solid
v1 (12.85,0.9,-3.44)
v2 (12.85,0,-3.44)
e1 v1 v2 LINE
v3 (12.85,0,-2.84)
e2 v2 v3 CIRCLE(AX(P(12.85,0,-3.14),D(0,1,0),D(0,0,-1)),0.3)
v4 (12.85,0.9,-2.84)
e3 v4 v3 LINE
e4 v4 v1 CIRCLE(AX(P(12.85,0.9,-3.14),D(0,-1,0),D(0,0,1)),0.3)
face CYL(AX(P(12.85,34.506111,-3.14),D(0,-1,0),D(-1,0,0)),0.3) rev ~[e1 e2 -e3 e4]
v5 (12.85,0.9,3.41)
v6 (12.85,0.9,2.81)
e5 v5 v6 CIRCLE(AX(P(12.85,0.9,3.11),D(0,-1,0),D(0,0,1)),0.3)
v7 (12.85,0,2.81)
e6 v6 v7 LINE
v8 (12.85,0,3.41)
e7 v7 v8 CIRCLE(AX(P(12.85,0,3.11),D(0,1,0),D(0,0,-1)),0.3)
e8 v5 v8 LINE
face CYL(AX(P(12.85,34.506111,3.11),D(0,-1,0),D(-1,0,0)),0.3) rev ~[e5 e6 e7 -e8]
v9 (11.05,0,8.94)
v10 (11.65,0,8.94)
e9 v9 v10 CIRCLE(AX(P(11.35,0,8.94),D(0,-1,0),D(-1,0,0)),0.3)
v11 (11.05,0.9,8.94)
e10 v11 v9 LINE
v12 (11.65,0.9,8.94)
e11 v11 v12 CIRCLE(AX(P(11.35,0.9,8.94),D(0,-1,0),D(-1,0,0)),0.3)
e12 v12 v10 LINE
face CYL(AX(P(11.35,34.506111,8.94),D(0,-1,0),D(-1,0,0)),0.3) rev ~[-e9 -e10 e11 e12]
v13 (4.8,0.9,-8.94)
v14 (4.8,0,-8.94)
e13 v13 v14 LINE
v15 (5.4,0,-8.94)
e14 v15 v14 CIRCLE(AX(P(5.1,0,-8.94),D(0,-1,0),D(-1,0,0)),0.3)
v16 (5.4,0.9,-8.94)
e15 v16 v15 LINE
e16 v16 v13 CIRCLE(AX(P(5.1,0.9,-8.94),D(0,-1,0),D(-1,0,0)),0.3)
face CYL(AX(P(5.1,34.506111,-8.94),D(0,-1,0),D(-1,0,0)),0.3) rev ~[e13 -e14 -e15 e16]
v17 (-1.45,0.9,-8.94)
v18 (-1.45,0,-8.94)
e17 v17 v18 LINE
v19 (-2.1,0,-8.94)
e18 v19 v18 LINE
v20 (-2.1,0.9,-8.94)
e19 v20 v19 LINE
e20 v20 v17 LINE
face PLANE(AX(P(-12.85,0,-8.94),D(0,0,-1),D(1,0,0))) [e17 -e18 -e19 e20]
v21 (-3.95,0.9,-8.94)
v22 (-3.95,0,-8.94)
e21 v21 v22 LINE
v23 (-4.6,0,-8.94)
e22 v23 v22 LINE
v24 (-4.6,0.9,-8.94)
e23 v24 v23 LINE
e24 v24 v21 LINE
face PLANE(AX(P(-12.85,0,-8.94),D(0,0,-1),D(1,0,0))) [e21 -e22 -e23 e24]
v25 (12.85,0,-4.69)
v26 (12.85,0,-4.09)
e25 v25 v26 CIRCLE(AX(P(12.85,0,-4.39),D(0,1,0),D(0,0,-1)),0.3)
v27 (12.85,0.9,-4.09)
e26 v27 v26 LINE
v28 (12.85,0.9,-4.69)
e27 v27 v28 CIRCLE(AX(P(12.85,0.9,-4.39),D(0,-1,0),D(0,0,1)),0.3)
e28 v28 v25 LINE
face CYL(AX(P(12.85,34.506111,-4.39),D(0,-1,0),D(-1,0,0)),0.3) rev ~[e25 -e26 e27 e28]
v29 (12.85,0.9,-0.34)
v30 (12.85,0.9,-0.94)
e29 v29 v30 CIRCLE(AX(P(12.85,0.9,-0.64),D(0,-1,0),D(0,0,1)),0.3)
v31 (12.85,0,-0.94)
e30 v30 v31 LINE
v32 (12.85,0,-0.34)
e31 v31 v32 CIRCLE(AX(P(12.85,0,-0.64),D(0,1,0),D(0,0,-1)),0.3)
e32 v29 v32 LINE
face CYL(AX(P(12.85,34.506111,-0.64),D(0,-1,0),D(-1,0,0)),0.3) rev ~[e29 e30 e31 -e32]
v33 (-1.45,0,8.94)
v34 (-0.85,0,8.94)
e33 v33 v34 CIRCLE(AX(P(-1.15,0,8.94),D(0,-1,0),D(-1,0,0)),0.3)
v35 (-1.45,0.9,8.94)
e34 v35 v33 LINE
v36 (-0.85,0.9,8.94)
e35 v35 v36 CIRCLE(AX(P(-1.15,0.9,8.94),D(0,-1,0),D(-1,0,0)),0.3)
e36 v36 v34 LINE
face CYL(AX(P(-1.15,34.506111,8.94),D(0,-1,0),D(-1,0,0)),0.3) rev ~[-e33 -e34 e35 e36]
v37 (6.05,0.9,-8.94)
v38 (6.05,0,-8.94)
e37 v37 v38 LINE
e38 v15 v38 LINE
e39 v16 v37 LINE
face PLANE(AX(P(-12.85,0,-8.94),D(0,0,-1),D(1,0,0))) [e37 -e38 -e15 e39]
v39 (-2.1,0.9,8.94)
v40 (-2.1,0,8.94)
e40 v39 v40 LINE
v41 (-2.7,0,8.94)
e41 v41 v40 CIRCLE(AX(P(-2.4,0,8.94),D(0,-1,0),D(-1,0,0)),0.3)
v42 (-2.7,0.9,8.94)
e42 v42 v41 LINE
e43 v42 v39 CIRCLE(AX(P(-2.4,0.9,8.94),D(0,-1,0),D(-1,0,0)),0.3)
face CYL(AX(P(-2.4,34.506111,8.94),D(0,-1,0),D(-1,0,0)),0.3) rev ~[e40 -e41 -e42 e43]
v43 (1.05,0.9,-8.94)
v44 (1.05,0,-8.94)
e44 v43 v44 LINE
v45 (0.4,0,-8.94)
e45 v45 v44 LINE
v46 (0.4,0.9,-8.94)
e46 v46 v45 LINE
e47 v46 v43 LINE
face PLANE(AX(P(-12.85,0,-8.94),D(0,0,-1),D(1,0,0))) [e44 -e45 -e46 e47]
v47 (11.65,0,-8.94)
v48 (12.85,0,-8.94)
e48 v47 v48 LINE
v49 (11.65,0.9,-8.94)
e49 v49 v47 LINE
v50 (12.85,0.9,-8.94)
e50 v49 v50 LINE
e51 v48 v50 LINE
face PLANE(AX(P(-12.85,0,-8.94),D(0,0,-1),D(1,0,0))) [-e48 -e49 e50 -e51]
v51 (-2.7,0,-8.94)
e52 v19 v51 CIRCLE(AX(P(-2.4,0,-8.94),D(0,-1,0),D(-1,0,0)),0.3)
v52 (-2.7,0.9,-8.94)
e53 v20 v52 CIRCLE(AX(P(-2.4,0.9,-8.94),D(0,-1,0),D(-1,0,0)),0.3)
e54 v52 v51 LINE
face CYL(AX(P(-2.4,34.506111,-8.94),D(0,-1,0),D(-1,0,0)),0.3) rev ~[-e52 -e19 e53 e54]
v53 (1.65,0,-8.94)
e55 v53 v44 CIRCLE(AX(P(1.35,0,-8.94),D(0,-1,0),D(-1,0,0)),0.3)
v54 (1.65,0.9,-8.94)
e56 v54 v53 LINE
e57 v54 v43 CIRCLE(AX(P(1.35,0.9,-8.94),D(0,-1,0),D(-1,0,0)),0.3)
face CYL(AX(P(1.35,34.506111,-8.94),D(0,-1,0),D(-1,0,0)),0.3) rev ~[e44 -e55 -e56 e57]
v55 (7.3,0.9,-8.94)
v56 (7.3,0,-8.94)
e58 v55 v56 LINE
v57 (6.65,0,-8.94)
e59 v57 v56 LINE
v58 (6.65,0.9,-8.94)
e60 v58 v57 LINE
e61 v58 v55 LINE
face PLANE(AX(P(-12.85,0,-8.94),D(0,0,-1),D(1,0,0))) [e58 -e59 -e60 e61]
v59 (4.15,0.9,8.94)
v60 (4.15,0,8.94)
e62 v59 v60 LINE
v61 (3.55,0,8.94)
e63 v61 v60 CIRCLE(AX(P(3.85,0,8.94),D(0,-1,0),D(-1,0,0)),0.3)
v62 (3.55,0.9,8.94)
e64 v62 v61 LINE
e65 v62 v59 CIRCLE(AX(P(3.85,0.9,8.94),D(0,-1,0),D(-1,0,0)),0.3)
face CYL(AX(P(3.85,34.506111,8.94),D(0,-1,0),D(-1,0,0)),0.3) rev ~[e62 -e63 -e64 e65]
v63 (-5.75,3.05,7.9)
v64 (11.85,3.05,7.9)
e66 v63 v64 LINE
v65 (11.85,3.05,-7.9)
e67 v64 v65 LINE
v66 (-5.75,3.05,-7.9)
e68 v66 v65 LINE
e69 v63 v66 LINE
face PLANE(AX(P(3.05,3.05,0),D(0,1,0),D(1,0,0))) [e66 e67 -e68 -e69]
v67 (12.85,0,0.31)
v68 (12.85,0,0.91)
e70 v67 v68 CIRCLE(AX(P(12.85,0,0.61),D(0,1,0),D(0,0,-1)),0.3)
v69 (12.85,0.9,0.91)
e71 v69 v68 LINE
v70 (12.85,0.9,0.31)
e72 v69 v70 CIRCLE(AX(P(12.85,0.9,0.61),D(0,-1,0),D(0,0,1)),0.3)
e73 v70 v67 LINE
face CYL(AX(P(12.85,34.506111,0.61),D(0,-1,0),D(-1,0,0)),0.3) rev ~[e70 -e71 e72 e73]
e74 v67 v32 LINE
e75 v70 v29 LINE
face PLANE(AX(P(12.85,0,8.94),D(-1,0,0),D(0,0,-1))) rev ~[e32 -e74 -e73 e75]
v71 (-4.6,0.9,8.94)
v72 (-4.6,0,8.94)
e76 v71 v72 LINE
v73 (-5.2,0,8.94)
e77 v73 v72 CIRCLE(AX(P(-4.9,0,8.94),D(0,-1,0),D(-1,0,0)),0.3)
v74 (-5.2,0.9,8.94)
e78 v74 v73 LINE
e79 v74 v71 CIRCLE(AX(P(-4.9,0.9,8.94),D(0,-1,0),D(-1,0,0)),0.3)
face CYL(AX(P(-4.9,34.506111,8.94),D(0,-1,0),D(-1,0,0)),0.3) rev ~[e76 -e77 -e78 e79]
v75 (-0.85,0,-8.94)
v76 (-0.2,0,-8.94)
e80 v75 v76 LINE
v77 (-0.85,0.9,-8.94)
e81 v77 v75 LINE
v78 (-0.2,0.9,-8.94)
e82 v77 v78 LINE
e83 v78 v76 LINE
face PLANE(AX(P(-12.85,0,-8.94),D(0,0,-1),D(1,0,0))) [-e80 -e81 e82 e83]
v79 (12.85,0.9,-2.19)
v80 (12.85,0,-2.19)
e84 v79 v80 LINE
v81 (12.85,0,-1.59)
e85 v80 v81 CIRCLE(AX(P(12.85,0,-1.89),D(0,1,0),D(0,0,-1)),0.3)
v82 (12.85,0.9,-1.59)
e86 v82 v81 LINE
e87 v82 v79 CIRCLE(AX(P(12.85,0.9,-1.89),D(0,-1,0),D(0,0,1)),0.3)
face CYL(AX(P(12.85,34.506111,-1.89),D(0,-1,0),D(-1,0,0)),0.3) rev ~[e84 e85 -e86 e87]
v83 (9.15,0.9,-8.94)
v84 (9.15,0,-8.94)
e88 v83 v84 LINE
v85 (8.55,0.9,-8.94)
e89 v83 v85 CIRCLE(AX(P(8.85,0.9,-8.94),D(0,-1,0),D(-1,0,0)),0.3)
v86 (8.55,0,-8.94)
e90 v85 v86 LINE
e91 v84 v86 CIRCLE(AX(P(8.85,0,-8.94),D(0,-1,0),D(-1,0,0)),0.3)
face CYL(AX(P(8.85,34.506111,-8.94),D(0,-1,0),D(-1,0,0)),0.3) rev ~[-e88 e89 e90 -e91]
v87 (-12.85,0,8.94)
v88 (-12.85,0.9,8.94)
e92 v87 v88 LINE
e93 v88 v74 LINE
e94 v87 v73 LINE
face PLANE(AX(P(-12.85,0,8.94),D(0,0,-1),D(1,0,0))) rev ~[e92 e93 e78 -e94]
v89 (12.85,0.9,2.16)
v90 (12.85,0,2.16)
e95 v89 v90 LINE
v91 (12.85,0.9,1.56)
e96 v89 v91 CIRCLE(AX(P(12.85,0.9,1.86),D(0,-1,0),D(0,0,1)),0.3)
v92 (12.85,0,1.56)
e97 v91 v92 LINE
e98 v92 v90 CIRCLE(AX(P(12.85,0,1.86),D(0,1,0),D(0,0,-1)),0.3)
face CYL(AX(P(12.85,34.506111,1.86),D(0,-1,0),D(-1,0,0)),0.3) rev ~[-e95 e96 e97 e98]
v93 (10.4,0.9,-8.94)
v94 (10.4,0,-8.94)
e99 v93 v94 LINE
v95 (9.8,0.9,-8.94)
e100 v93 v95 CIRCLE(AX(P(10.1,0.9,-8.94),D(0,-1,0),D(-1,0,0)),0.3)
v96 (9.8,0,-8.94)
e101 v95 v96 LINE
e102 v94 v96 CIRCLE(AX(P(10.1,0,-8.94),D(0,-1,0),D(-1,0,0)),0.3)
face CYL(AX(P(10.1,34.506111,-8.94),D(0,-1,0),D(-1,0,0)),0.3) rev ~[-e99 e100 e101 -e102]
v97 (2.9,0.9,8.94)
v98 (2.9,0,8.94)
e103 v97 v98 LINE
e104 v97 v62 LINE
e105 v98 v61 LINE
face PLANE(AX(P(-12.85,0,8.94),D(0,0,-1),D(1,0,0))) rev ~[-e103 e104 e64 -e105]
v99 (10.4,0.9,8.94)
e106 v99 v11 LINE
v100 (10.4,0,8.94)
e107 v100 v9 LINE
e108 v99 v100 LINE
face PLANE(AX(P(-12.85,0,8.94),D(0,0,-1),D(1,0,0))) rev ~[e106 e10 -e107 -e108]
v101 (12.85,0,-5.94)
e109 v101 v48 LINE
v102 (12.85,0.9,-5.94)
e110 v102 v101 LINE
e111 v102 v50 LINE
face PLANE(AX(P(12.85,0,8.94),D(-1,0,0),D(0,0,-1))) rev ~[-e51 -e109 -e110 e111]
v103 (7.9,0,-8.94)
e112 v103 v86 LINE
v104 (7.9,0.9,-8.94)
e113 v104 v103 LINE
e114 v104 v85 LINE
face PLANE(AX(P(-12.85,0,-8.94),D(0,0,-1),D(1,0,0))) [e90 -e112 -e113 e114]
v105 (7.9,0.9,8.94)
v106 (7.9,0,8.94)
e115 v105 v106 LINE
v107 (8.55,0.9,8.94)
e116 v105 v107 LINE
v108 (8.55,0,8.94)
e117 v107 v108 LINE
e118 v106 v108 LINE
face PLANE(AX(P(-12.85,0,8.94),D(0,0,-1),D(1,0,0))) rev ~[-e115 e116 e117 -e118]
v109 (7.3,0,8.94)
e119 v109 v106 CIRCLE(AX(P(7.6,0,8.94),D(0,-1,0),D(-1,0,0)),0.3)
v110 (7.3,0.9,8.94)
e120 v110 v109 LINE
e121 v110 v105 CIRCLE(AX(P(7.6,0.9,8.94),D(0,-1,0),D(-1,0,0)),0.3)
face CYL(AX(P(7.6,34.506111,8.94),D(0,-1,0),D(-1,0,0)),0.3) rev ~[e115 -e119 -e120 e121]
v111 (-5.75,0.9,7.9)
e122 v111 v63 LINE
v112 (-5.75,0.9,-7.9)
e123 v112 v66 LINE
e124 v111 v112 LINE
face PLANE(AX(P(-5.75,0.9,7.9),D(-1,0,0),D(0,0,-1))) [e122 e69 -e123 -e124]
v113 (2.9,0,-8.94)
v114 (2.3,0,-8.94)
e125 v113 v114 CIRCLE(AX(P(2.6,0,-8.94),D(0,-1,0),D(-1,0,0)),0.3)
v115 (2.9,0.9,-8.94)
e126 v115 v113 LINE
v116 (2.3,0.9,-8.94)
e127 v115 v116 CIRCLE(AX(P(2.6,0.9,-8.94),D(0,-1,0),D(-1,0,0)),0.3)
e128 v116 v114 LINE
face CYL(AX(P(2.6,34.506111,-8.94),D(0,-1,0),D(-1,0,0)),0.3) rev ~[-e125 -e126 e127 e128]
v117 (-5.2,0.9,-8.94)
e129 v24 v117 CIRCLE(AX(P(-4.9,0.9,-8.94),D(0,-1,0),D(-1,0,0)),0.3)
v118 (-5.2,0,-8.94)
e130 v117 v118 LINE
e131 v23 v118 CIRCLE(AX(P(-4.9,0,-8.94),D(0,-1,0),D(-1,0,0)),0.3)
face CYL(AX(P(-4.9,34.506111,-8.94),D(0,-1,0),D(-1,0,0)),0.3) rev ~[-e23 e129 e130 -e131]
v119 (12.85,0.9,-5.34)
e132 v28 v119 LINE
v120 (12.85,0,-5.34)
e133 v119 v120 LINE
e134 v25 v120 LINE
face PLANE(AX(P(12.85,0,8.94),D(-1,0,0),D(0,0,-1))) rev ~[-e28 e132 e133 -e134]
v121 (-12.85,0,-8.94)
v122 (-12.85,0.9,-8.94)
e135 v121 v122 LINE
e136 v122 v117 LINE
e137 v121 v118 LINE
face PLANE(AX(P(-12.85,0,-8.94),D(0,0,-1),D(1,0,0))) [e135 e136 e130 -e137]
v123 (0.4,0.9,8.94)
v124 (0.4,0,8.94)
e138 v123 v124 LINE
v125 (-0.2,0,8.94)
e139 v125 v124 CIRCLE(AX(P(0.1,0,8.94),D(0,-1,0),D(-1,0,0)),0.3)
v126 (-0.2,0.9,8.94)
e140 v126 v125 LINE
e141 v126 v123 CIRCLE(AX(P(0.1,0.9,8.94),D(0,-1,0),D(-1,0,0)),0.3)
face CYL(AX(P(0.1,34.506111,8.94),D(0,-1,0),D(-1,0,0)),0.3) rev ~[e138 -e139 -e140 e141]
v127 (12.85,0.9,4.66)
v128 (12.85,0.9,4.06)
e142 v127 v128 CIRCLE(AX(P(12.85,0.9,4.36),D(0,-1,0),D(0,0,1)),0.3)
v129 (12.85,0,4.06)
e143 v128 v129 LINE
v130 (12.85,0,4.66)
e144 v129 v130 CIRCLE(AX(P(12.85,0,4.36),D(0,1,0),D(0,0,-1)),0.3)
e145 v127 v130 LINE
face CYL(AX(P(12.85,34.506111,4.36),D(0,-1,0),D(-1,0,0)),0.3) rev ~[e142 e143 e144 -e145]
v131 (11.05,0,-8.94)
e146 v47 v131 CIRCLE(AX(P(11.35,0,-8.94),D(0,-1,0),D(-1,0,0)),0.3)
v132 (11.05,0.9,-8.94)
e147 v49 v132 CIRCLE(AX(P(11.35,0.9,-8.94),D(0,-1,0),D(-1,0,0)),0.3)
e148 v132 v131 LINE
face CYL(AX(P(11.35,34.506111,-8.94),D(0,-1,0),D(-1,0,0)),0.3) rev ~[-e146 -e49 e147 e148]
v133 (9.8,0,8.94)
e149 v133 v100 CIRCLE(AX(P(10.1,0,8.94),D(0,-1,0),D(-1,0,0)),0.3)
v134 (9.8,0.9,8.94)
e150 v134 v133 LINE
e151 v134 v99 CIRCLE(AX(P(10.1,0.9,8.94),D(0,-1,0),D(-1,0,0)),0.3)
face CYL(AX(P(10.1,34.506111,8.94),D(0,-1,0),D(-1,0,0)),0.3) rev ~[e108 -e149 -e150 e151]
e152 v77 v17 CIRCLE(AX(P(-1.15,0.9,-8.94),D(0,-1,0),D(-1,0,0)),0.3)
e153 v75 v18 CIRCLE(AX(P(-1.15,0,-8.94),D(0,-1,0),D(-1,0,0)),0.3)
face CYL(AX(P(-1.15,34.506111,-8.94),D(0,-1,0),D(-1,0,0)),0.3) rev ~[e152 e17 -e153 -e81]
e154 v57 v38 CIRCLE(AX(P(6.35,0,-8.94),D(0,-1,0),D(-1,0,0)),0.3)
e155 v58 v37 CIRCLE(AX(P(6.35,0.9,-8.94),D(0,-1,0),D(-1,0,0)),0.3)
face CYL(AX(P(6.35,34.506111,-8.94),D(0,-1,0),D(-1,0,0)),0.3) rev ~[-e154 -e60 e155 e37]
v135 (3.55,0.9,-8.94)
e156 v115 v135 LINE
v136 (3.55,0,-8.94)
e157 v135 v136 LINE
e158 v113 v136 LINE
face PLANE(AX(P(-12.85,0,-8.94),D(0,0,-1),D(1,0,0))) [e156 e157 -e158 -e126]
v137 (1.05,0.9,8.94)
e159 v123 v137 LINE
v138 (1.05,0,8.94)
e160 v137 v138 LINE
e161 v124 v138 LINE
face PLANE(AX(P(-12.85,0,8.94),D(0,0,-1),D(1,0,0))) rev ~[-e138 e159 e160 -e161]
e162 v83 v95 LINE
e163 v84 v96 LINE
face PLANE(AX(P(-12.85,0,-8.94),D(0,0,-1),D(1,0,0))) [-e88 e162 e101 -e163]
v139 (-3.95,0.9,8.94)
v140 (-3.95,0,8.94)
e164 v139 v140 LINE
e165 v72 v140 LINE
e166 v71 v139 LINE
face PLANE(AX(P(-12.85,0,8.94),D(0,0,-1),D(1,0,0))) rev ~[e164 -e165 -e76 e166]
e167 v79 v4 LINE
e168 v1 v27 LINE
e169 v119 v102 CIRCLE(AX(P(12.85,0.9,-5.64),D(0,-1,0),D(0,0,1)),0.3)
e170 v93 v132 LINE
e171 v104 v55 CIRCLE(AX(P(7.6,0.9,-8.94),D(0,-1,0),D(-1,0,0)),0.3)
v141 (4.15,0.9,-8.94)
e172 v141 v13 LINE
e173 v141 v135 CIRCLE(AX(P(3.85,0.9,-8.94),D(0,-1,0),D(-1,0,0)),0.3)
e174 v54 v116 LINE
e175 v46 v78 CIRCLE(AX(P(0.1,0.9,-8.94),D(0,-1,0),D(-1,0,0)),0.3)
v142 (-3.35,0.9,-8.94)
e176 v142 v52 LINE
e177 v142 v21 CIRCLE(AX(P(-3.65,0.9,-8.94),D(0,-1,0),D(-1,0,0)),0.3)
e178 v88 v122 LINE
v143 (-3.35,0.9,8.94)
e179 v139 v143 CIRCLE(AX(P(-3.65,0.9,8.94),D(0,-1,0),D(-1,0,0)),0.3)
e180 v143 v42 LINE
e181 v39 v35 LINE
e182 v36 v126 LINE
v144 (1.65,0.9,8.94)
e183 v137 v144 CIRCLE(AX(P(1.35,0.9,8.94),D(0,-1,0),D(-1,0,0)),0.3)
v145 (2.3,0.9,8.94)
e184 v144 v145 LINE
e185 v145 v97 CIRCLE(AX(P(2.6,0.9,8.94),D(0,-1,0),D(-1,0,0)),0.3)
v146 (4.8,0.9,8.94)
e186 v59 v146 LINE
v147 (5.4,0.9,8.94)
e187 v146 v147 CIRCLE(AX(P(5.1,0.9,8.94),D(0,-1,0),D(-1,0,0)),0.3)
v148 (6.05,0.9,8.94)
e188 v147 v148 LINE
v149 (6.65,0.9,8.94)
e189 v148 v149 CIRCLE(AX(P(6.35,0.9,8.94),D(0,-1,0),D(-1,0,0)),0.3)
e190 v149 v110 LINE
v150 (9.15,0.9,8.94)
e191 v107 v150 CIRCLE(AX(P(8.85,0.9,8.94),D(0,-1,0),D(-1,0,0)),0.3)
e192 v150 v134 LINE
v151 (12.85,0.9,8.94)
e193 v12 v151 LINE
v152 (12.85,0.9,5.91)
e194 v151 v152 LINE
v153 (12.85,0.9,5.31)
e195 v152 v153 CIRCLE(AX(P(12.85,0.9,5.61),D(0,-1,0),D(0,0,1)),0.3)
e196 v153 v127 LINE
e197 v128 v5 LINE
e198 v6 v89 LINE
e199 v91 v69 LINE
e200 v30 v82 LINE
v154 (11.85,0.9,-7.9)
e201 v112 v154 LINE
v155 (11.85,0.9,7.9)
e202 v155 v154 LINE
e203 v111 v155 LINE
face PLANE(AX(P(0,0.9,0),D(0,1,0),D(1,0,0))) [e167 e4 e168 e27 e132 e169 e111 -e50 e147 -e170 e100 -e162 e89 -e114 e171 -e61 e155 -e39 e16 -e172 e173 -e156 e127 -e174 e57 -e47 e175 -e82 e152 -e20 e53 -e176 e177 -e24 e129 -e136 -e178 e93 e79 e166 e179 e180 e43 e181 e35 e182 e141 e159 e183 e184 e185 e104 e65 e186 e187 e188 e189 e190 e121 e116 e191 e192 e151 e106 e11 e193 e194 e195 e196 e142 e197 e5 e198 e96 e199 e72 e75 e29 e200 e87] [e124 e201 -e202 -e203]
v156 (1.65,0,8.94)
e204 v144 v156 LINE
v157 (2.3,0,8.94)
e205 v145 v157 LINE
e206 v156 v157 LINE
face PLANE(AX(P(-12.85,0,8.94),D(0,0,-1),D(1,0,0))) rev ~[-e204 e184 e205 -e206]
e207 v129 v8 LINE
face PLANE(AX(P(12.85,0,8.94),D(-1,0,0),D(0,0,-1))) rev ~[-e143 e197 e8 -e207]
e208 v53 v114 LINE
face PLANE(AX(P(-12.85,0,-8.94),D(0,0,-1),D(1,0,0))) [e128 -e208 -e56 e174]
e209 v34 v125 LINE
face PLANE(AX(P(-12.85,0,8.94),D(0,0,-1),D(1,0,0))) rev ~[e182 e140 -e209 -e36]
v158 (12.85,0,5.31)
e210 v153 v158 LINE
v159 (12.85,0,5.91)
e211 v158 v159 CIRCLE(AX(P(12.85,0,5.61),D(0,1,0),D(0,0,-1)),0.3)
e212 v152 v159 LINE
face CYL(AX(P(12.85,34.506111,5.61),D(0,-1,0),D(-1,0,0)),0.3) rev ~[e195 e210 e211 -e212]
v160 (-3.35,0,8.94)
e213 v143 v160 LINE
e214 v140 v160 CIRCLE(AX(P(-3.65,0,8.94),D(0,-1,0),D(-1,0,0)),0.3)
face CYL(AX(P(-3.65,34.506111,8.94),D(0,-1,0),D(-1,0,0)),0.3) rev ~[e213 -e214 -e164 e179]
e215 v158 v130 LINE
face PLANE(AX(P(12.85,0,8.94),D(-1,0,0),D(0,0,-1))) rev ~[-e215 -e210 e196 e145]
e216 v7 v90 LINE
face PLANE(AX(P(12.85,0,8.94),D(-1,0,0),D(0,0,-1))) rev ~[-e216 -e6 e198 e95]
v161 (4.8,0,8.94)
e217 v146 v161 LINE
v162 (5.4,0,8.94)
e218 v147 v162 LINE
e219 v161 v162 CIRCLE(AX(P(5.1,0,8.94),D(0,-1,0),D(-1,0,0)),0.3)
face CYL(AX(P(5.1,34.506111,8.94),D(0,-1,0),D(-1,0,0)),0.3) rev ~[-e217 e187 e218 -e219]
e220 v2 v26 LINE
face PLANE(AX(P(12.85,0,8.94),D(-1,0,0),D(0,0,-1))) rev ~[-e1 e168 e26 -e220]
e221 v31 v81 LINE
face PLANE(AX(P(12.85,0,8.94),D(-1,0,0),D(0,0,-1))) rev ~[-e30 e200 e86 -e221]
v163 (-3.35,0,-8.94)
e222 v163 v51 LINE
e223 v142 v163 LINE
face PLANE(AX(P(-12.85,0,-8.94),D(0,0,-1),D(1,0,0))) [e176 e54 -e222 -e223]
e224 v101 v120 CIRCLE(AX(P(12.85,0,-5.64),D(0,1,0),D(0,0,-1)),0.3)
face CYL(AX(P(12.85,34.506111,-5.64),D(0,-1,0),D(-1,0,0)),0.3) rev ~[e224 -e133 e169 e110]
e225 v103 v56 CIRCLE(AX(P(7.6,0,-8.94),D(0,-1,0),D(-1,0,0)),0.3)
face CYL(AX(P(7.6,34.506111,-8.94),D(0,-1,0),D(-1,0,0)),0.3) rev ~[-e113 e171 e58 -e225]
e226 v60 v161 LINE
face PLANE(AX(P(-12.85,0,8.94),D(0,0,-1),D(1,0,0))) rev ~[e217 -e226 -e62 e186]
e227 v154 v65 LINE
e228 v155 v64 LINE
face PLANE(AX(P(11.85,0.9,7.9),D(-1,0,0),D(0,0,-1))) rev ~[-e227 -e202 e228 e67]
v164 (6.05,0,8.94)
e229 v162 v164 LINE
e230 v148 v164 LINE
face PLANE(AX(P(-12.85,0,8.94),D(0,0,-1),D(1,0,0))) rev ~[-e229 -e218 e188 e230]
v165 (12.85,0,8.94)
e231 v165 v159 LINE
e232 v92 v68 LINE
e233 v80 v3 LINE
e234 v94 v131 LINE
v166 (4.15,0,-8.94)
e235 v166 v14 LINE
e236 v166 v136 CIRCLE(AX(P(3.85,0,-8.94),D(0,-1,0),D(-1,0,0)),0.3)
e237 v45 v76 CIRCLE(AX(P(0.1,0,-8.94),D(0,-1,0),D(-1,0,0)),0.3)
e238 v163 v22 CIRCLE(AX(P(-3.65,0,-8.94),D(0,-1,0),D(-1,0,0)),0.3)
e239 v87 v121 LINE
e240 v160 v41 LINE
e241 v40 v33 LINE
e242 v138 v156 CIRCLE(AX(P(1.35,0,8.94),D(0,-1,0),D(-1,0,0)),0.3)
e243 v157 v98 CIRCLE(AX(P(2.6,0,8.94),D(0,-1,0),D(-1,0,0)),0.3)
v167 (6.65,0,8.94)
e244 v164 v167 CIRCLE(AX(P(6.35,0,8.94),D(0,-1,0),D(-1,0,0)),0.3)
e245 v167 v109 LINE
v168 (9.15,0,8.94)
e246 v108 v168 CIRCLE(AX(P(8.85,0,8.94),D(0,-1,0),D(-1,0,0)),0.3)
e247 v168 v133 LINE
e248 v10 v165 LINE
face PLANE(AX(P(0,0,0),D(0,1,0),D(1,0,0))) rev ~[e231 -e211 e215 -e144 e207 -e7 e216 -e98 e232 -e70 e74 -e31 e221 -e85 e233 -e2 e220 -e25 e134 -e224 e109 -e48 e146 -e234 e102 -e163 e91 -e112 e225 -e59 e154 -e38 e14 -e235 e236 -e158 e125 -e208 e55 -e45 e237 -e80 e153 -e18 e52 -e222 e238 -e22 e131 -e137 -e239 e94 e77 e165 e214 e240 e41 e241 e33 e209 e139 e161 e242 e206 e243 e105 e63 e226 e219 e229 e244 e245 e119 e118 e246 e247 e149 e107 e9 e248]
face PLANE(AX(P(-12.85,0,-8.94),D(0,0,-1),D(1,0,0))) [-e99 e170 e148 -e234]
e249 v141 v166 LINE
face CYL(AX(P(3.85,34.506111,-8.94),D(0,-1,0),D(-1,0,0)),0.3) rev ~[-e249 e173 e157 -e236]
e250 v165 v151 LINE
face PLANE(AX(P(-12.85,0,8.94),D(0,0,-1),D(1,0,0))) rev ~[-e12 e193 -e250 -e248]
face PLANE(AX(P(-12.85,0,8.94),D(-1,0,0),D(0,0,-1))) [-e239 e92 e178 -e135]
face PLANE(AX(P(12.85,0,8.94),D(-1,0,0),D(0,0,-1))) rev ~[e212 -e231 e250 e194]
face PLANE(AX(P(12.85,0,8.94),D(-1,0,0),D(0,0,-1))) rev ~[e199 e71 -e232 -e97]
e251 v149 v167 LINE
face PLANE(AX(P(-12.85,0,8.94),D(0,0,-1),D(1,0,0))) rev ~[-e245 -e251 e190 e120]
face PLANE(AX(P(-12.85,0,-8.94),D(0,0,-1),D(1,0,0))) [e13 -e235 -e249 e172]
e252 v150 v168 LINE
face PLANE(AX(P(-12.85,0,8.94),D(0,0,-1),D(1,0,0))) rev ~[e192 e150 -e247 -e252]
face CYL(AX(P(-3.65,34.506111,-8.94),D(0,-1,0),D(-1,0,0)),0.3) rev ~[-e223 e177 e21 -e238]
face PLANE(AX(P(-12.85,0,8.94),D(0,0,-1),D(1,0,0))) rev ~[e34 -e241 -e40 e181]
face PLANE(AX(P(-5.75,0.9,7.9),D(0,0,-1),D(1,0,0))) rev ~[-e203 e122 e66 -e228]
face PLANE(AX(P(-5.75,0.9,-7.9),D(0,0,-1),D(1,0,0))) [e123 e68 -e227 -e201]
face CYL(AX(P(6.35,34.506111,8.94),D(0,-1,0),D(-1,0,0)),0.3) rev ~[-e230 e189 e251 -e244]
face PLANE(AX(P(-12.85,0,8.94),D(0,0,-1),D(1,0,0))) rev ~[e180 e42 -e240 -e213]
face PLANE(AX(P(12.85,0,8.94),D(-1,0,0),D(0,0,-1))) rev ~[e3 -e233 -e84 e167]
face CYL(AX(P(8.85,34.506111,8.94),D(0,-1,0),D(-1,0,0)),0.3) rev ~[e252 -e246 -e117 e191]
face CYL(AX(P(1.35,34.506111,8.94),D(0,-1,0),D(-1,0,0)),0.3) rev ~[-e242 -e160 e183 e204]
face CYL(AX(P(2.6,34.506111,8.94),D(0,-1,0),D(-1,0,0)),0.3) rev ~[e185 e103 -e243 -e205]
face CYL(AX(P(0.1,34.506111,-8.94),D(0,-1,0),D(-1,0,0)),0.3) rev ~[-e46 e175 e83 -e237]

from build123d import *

# Parameters (mm, degrees)
SKETCH2_W             = 25.7
SKETCH2_H             = 17.88
BOSS_EXTRUDE1_DEPTH   = 0.9
SKETCH3_W             = 17.6
SKETCH3_H             = 15.8
BOSS_EXTRUDE2_DEPTH   = 2.15
F_1_5MM_DOWEL_HOLE1_D = 0.6


with BuildPart() as part:
    # Sketch2 → Boss-Extrude1 (new body)
    with BuildSketch(Plane(origin=(0, 0, 0), x_dir=(1, 0, 0), z_dir=(0, 1, 0))):
        Rectangle(SKETCH2_W, SKETCH2_H)
    extrude(amount=BOSS_EXTRUDE1_DEPTH)

    # Sketch3 → Boss-Extrude2 (add)
    with BuildSketch(Plane(origin=(0, 0.9, 0), x_dir=(1, 0, 0), z_dir=(0, 1, 0))):
        with Locations((3.05, 0)):
            Rectangle(SKETCH3_W, SKETCH3_H)
    extrude(amount=BOSS_EXTRUDE2_DEPTH)

    # Ø1.5mm Dowel Hole1 (through all)
    with Locations(Plane(origin=(0, 3.05, 0), x_dir=(1, 0, 0), z_dir=(0, 1, 0))):
        with Locations((11.35, 8.94), (10.1, 8.94), (8.85, 8.94), (7.6, 8.94), (6.35, 8.94), (5.1, 8.94), (3.85, 8.94), (2.6, 8.94), (1.35, 8.94), (0.1, 8.94), (-1.15, 8.94), (-2.4, 8.94), (-3.65, 8.94), (-4.9, 8.94), (11.35, -8.94), (10.1, -8.94), (8.85, -8.94), (7.6, -8.94), (6.35, -8.94), (5.1, -8.94), (3.85, -8.94), (2.6, -8.94), (1.35, -8.94), (0.1, -8.94), (-1.15, -8.94), (-2.4, -8.94), (-3.65, -8.94), (-4.9, -8.94), (12.85, 5.64), (12.85, 4.39), (12.85, 3.14), (12.85, 1.89), (12.85, 0.64), (12.85, -0.61), (12.85, -1.86), (12.85, -3.11), (12.85, -4.36), (12.85, -5.61)):
            Hole(F_1_5MM_DOWEL_HOLE1_D / 2)


solid = part.part
